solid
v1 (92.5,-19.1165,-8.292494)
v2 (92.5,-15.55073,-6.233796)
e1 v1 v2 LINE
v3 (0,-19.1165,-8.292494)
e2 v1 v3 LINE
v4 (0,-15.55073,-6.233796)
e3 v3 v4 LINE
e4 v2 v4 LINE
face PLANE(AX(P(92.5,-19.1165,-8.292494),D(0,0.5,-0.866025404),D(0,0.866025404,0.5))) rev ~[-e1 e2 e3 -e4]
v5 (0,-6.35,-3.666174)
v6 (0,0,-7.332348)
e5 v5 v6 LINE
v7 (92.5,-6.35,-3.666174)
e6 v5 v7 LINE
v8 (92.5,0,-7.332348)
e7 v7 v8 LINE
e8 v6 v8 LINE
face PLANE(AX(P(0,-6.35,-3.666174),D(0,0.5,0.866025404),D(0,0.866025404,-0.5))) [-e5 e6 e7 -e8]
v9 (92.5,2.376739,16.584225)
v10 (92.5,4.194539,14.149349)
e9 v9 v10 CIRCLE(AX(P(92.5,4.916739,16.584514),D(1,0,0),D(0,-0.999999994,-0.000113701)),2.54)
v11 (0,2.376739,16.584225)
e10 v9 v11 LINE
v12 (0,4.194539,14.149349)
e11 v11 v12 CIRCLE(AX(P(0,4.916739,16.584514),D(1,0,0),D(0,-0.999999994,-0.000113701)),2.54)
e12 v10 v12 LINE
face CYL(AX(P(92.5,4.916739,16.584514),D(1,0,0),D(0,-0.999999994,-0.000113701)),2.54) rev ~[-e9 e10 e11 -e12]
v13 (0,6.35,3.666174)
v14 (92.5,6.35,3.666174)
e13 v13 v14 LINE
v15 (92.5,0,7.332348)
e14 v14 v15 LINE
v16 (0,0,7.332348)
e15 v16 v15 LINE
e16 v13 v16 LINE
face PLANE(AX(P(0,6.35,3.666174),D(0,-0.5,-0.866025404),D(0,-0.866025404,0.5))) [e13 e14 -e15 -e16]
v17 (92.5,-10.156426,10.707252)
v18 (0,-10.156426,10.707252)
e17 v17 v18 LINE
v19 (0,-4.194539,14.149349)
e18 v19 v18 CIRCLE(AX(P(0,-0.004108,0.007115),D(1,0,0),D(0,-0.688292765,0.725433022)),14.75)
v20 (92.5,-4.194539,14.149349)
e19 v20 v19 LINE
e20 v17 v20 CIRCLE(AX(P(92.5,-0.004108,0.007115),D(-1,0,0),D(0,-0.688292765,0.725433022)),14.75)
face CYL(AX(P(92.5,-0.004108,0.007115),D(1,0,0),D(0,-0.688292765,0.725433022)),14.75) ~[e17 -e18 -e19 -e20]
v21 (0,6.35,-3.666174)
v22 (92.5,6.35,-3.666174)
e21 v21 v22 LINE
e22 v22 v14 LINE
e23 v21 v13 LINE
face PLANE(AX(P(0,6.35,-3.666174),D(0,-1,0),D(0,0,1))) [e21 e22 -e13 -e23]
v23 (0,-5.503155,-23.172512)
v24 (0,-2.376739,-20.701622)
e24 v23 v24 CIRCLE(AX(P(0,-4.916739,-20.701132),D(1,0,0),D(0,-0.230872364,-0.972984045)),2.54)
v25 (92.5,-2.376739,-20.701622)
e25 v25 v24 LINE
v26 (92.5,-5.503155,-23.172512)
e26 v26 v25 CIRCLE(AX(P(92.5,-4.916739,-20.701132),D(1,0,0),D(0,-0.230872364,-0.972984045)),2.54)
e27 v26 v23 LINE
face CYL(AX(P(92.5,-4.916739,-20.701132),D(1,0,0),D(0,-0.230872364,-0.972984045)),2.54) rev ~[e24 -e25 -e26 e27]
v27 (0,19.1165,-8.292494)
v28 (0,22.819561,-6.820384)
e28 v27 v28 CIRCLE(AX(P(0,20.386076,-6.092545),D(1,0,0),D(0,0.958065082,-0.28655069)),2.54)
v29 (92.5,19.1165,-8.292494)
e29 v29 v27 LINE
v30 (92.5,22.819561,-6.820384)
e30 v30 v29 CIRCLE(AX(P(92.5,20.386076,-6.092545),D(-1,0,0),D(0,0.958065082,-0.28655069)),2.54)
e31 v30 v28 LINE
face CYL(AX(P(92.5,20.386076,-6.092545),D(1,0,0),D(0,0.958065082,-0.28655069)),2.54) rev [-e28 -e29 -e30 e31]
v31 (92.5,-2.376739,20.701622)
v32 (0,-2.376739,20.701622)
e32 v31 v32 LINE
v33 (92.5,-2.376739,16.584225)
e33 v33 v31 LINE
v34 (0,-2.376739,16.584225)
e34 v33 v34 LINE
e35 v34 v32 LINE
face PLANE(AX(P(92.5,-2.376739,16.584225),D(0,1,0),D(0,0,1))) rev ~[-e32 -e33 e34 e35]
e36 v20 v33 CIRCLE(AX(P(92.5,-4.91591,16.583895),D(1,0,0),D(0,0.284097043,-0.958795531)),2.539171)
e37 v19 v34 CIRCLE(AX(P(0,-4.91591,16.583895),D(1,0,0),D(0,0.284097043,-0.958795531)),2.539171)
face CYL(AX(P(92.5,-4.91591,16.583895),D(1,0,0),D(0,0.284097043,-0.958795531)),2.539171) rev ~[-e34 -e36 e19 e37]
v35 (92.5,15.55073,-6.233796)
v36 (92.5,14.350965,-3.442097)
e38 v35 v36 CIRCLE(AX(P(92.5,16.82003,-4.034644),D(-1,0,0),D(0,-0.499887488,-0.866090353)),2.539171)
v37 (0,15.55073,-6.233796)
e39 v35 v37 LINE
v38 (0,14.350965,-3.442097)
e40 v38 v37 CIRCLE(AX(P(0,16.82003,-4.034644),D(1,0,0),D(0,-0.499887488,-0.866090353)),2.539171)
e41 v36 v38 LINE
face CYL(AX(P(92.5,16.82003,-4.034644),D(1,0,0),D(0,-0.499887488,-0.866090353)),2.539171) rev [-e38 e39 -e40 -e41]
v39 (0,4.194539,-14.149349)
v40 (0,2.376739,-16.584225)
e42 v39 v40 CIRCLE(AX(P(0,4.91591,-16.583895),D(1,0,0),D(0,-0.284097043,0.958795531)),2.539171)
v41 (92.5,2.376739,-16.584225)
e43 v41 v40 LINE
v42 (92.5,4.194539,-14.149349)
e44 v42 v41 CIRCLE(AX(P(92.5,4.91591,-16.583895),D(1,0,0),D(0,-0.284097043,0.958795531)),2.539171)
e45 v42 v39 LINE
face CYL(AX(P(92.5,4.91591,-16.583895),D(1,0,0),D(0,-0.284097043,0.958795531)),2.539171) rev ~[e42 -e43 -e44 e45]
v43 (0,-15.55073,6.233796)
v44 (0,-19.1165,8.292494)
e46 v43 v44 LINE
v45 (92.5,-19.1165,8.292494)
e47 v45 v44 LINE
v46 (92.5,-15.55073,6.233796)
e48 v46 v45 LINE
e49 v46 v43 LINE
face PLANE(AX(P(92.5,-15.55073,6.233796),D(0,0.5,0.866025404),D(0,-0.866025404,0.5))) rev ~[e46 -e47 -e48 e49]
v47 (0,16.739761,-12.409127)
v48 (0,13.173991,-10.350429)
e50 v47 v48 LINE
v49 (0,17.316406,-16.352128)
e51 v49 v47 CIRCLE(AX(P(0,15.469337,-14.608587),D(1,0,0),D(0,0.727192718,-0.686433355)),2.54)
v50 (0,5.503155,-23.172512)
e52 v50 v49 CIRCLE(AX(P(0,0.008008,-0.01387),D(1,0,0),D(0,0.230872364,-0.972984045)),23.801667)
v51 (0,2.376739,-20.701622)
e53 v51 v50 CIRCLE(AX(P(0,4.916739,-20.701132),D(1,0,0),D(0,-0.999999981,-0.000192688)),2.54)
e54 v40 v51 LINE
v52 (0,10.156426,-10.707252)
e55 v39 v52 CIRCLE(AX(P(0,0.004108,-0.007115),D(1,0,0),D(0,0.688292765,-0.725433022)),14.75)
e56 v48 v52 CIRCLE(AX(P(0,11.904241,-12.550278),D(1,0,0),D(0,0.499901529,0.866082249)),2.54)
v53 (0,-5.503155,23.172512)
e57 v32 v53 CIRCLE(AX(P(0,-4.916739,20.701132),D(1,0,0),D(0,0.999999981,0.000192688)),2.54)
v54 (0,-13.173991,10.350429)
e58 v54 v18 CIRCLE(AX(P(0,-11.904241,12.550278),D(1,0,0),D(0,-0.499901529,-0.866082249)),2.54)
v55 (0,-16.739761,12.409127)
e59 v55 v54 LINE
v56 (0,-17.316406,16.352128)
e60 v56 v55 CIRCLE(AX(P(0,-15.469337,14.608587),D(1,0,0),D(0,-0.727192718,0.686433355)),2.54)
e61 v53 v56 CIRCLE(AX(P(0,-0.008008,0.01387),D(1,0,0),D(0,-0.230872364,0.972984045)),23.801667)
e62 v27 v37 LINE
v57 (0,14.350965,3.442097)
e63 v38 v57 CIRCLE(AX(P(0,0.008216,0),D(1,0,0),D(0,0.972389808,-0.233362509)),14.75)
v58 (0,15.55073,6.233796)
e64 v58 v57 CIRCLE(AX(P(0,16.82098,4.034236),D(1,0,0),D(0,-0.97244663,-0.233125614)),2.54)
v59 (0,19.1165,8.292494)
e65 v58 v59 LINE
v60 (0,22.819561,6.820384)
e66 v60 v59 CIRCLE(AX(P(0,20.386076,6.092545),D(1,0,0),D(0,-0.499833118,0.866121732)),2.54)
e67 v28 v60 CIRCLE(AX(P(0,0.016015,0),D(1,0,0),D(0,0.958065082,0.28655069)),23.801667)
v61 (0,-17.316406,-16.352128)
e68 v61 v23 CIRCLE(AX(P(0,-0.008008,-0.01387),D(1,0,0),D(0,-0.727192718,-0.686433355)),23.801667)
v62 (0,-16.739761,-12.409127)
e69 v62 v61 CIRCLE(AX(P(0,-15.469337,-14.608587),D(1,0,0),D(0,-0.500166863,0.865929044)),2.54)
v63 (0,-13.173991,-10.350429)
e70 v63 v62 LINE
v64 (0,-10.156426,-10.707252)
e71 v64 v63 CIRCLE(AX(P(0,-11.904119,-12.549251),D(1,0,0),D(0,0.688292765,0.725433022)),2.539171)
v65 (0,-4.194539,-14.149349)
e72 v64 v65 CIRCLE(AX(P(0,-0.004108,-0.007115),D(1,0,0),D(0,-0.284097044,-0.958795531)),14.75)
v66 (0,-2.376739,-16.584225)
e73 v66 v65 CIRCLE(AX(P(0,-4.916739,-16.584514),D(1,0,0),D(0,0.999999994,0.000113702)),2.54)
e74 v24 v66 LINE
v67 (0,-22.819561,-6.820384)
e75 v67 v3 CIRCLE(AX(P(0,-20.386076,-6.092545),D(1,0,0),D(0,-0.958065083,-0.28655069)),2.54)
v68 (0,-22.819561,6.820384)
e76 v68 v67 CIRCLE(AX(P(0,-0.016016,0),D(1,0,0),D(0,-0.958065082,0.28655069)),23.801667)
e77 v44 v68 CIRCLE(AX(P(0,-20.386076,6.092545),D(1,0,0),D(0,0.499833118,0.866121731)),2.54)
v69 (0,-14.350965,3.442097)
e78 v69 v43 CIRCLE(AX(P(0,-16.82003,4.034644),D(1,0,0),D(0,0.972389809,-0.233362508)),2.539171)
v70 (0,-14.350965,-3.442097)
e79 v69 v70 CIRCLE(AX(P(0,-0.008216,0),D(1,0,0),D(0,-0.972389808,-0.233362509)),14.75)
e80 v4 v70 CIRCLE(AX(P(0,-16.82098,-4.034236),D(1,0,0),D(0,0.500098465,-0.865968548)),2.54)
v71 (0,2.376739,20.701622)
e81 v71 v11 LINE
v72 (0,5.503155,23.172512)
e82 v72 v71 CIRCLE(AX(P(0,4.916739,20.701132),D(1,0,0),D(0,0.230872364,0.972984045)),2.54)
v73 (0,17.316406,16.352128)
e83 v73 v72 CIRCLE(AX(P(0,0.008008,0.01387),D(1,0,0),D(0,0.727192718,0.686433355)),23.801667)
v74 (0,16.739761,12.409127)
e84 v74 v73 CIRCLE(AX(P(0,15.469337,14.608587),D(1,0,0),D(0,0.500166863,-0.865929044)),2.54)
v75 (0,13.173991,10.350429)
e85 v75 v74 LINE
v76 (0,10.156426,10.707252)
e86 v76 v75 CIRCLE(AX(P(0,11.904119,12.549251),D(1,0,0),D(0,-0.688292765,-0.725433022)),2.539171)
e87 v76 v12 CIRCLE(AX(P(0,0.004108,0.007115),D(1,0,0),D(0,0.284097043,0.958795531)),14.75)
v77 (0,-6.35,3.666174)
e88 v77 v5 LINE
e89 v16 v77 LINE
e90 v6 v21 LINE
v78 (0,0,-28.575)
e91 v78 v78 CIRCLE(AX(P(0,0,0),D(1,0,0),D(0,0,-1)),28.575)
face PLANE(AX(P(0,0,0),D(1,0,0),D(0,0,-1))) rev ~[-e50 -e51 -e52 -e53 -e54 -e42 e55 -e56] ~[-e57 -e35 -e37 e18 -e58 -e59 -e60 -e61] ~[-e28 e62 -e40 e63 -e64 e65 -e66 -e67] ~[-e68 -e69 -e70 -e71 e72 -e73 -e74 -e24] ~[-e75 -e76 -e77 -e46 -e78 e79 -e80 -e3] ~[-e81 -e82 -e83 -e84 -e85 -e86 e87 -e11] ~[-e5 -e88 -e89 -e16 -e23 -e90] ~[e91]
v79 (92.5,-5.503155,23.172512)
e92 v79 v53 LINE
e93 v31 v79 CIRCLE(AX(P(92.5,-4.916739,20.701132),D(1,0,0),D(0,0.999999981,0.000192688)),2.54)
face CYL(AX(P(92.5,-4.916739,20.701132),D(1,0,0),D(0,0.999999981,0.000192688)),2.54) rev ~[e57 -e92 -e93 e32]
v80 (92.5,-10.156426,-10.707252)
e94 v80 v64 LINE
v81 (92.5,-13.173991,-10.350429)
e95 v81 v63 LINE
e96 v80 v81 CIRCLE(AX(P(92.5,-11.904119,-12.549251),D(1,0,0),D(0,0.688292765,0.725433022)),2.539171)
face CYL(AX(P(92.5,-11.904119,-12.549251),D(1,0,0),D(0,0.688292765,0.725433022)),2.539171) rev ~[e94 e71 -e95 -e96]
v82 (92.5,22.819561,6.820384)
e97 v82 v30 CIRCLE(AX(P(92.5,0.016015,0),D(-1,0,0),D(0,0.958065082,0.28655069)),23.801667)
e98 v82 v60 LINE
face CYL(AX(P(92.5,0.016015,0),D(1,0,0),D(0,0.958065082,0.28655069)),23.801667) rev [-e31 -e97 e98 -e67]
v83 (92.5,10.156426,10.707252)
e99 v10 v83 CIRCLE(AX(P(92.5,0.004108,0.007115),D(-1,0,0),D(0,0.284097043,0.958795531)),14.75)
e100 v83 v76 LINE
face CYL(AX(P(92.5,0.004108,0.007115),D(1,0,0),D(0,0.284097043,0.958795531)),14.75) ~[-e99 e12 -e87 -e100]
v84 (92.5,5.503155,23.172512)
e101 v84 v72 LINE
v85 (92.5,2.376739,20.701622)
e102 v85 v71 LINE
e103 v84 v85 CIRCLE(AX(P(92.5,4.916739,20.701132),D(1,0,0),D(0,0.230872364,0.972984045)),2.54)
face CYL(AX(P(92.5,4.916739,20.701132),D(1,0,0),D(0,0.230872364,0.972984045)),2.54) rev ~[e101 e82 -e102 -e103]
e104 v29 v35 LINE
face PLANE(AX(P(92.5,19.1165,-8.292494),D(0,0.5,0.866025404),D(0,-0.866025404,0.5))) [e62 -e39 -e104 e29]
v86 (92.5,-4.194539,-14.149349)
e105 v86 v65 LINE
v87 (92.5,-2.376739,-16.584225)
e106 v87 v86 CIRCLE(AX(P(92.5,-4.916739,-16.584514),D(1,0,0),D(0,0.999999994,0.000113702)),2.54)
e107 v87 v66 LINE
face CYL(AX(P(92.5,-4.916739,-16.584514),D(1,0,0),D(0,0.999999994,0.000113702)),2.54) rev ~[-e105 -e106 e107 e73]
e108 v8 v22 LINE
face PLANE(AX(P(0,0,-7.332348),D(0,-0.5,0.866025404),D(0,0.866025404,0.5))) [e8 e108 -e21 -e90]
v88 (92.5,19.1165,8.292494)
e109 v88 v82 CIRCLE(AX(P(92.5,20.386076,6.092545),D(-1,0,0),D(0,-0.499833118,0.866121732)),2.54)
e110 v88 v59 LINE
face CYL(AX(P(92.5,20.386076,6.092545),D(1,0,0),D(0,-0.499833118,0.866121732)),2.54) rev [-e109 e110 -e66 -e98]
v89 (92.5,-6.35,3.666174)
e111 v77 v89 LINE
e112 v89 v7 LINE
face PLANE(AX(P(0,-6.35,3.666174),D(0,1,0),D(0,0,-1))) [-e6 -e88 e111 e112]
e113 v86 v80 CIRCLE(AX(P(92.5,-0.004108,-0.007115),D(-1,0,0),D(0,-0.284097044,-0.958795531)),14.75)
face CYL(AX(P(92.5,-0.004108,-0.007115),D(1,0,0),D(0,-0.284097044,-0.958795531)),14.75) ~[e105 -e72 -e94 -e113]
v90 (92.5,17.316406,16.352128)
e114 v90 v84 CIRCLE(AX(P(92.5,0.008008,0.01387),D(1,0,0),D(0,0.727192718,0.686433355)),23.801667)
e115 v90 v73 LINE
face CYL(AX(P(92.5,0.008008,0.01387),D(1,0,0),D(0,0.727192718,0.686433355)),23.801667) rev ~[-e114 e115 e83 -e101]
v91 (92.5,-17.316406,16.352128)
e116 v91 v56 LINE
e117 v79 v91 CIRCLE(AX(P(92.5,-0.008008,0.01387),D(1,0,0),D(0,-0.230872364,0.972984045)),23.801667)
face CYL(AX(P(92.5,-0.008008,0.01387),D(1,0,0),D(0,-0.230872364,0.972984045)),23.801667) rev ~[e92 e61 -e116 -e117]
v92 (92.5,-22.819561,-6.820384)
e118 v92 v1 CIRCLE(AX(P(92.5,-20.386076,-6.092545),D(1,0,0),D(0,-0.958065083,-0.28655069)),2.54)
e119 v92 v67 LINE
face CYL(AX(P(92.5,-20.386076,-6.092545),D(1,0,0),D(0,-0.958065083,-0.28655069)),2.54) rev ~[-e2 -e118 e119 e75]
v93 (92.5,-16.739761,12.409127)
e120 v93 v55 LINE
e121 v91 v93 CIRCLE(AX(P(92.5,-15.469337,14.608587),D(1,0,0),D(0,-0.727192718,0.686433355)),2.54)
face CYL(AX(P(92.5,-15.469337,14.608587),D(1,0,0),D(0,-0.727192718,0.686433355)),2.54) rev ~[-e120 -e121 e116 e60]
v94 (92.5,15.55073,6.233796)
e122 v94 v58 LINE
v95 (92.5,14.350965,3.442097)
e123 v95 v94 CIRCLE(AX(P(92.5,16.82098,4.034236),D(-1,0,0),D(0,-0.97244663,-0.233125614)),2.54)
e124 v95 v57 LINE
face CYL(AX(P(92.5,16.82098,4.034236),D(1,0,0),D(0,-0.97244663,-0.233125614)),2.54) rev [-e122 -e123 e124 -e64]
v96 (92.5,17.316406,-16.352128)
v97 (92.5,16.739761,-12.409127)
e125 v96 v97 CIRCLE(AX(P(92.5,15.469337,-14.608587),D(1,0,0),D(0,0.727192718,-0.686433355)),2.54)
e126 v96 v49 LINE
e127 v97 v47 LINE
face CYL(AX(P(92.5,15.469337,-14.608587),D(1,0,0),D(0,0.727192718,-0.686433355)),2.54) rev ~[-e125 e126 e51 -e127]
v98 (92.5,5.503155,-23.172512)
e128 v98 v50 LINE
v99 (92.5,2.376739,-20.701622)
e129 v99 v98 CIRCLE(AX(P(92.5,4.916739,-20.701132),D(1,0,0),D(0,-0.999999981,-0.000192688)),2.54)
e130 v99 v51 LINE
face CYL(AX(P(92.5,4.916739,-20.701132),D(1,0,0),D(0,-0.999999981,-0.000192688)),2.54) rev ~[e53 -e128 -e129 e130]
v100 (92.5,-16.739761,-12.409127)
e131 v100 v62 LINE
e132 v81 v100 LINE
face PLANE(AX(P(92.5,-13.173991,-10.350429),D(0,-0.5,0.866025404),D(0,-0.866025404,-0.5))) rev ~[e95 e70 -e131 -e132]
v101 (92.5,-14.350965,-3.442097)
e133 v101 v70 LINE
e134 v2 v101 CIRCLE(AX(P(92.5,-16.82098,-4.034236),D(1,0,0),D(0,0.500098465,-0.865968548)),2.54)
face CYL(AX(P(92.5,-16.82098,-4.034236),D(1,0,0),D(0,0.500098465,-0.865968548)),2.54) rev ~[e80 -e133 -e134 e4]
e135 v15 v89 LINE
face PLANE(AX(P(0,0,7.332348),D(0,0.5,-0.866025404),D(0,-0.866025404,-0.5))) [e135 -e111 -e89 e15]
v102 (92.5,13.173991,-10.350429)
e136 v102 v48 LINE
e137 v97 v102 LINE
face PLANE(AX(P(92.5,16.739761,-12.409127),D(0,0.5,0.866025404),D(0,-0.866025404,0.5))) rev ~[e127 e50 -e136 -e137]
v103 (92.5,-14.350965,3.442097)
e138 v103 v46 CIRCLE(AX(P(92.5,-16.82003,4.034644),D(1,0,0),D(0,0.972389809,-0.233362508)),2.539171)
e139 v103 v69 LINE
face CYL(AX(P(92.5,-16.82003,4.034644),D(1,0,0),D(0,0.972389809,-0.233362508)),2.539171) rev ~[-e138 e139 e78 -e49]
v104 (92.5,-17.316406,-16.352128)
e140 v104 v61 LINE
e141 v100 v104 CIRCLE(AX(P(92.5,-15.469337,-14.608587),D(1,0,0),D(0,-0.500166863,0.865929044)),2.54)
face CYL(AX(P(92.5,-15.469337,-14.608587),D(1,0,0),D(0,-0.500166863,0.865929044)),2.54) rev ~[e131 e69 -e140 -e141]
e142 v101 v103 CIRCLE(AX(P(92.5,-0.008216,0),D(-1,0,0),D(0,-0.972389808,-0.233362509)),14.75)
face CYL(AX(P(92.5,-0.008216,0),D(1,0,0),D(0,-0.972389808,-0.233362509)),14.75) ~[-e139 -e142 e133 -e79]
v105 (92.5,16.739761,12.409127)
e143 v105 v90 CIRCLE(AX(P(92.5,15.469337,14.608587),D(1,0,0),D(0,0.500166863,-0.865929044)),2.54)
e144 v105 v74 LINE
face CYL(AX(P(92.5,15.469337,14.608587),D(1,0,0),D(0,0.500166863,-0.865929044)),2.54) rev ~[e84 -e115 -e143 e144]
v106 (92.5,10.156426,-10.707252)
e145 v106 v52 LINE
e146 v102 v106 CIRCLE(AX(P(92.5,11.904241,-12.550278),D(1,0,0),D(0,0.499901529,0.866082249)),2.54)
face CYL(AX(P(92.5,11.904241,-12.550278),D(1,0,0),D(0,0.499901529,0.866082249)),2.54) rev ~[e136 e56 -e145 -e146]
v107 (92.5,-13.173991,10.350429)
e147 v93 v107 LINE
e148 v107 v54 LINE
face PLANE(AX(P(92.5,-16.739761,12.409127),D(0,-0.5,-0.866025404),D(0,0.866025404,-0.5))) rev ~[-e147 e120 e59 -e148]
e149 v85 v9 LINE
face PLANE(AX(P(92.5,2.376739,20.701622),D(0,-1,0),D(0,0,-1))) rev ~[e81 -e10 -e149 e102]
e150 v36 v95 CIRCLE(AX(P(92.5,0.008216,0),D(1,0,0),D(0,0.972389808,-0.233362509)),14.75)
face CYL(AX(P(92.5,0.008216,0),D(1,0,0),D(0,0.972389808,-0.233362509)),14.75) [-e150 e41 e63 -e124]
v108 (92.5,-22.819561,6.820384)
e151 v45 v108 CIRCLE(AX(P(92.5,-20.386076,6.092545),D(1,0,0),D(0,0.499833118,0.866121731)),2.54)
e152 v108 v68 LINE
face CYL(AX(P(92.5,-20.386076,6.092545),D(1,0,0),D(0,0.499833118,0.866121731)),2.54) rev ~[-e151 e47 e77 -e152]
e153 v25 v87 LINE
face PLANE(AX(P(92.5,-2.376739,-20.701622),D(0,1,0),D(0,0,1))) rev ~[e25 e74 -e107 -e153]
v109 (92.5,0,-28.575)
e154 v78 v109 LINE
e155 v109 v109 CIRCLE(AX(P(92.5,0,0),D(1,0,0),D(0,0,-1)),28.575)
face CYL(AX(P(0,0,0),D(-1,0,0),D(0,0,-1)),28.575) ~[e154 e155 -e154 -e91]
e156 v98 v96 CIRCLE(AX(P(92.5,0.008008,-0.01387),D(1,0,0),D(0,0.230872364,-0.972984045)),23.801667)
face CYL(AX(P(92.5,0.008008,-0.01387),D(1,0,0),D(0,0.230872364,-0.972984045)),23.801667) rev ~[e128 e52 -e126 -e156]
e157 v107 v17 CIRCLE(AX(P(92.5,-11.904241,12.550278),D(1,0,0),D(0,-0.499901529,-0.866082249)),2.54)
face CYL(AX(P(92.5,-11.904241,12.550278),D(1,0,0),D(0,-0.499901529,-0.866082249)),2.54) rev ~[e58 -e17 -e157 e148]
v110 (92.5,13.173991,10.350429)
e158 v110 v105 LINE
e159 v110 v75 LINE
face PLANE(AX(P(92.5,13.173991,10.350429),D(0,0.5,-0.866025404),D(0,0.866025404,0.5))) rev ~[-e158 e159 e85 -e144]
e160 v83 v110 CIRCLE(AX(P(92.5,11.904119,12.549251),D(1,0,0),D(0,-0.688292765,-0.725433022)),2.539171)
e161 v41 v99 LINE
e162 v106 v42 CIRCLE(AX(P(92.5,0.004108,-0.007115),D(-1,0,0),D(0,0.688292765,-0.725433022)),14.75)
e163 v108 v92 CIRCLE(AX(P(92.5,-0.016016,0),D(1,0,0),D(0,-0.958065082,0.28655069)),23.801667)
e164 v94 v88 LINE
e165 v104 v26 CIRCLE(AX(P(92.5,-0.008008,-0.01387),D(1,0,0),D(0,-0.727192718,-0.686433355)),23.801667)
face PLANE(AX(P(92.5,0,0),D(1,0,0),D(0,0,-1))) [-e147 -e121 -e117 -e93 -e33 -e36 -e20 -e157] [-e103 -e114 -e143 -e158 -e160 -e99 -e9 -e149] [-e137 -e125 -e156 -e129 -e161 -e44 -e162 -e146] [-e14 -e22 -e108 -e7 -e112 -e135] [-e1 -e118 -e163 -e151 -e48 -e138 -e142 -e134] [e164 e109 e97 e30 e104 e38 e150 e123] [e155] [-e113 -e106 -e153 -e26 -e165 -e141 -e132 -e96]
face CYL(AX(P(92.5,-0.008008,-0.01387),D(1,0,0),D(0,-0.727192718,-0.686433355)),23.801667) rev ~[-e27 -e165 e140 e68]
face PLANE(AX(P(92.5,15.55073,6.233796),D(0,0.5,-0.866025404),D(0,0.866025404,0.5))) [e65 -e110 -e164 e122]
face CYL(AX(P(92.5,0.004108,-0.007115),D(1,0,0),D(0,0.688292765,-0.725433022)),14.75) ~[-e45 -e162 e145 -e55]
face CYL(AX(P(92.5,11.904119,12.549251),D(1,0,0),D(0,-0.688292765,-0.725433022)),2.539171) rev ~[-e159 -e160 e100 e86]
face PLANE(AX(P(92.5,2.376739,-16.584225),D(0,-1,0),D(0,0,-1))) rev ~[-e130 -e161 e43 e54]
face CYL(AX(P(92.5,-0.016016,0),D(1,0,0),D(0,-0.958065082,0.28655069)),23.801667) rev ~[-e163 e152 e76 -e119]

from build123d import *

# Parameters (mm, degrees)
CROQUIS1_R              = 28.575
SALIENTE_EXTRUIR1_DEPTH = 92.5
CORTAR_EXTRUIR1_DEPTH   = 101.942118315


with BuildPart() as part:
    # Croquis1 → Saliente-Extruir1 (new body)
    with BuildSketch(Plane(origin=(0, 0, 0), x_dir=(0, 0, -1), z_dir=(1, 0, 0))):
        Circle(CROQUIS1_R)
        Polygon((7.332348419, 0), (3.666174209, 6.35), (-3.666174209, 6.35), (-7.332348419, 0), (-3.666174209, -6.35), (3.666174209, -6.35), align=None, mode=Mode.SUBTRACT)
    extrude(amount=SALIENTE_EXTRUIR1_DEPTH)

    # Croquis2 → Cortar-Extruir1 (cut, through all)
    with BuildSketch(Plane(origin=(92.5, 0, 0), x_dir=(0, 0, -1), z_dir=(1, 0, 0))):
        with BuildLine():
            Line((-6.233796171, 15.550729765), (-8.292494443, 19.11649977))
            ThreePointArc((-8.292494443, 19.11649977), (-8.452873942, 21.324398032), (-6.820383997, 22.8195612))
            ThreePointArc((-6.820383997, 22.8195612), (0, 23.817682129), (6.820383997, 22.8195612))
            ThreePointArc((6.820383997, 22.8195612), (8.452873942, 21.324398032), (8.292494443, 19.11649977))
            Line((8.292494443, 19.11649977), (6.233796171, 15.550729765))
            ThreePointArc((6.233796171, 15.550729765), (5.037217596, 14.487169273), (3.442097, 14.350965426))
            ThreePointArc((3.442097, 14.350965426), (0, 14.758215751), (-3.442097, 14.350965426))
            ThreePointArc((-3.442097, 14.350965426), (-5.037136467, 14.487358051), (-6.233796171, 15.550729765))
        make_face()
        with BuildLine():
            Line((16.584225127, 2.376739002), (20.701621672, 2.376739002))
            ThreePointArc((20.701621672, 2.376739002), (22.693907405, 3.341795413), (23.172511718, 5.50315476))
            ThreePointArc((23.172511718, 5.50315476), (20.6267178, 11.90884103), (16.352127722, 17.31640637))
            ThreePointArc((16.352127722, 17.31640637), (14.241033463, 17.98260255), (12.409127229, 16.739760699))
            Line((12.409127229, 16.739760699), (10.350428956, 13.173990694))
            ThreePointArc((10.350428956, 13.173990694), (10.02785189, 11.605967133), (10.707252145, 10.156426122))
            ThreePointArc((10.707252145, 10.156426122), (12.780989772, 7.37910784), (14.149349145, 4.194539234))
            ThreePointArc((14.149349145, 4.194539234), (15.064865435, 2.881226199), (16.584225127, 2.376739002))
        make_face()
        with BuildLine():
            Line((10.350428935, -13.173990796), (12.409127207, -16.739760801))
            ThreePointArc((12.409127207, -16.739760801), (14.241033442, -17.982602652), (16.3521277, -17.316406472))
            ThreePointArc((16.3521277, -17.316406472), (20.626717779, -11.908841132), (23.172511697, -5.503154863))
            ThreePointArc((23.172511697, -5.503154863), (22.693907383, -3.341795515), (20.70162165, -2.376739104))
            Line((20.70162165, -2.376739104), (16.584225106, -2.376739104))
            ThreePointArc((16.584225106, -2.376739104), (15.064988336, -2.881390951), (14.149349124, -4.194539336))
            ThreePointArc((14.149349124, -4.194539336), (12.780989751, -7.379107943), (10.707252124, -10.156426225))
            ThreePointArc((10.707252124, -10.156426225), (10.027647818, -11.605943107), (10.350428935, -13.173990796))
        make_face()
        with BuildLine():
            Line((-6.233796214, -15.550729831), (-8.292494486, -19.116499836))
            ThreePointArc((-8.292494486, -19.116499836), (-8.452873985, -21.324398098), (-6.82038404, -22.819561265))
            ThreePointArc((-6.82038404, -22.819561265), (-4.3e-08, -23.817682194), (6.820383954, -22.819561265))
            ThreePointArc((6.820383954, -22.819561265), (8.452873899, -21.324398098), (8.2924944, -19.116499836))
            Line((8.2924944, -19.116499836), (6.233796128, -15.550729831))
            ThreePointArc((6.233796128, -15.550729831), (5.037136424, -14.487358117), (3.442096957, -14.350965491))
            ThreePointArc((3.442096957, -14.350965491), (-4.3e-08, -14.758215816), (-3.442097043, -14.350965491))
            ThreePointArc((-3.442097043, -14.350965491), (-5.037217639, -14.487169339), (-6.233796214, -15.550729831))
        make_face()
        with BuildLine():
            Line((-16.58422517, -2.376739067), (-20.701621714, -2.376739067))
            ThreePointArc((-20.701621714, -2.376739067), (-22.693907448, -3.341795478), (-23.172511761, -5.503154826))
            ThreePointArc((-23.172511761, -5.503154826), (-20.626717843, -11.908841095), (-16.352127764, -17.316406435))
            ThreePointArc((-16.352127764, -17.316406435), (-14.241033506, -17.982602615), (-12.409127271, -16.739760764))
            Line((-12.409127271, -16.739760764), (-10.350428999, -13.173990759))
            ThreePointArc((-10.350428999, -13.173990759), (-10.027851933, -11.605967199), (-10.707252188, -10.156426188))
            ThreePointArc((-10.707252188, -10.156426188), (-12.780989815, -7.379107906), (-14.149349188, -4.194539299))
            ThreePointArc((-14.149349188, -4.194539299), (-15.064865478, -2.881226264), (-16.58422517, -2.376739067))
        make_face()
        with BuildLine():
            Line((-10.350428978, 13.173990731), (-12.40912725, 16.739760736))
            ThreePointArc((-12.40912725, 16.739760736), (-14.241033484, 17.982602587), (-16.352127743, 17.316406407))
            ThreePointArc((-16.352127743, 17.316406407), (-20.626717822, 11.908841067), (-23.17251174, 5.503154797))
            ThreePointArc((-23.17251174, 5.503154797), (-22.693907426, 3.34179545), (-20.701621693, 2.376739039))
            Line((-20.701621693, 2.376739039), (-16.584225148, 2.376739039))
            ThreePointArc((-16.584225148, 2.376739039), (-15.064988378, 2.881390885), (-14.149349166, 4.194539271))
            ThreePointArc((-14.149349166, 4.194539271), (-12.780989794, 7.379107878), (-10.707252167, 10.156426159))
            ThreePointArc((-10.707252167, 10.156426159), (-10.027647861, 11.605943042), (-10.350428978, 13.173990731))
        make_face()
    extrude(amount=-CORTAR_EXTRUIR1_DEPTH, mode=Mode.SUBTRACT)


solid = part.part
